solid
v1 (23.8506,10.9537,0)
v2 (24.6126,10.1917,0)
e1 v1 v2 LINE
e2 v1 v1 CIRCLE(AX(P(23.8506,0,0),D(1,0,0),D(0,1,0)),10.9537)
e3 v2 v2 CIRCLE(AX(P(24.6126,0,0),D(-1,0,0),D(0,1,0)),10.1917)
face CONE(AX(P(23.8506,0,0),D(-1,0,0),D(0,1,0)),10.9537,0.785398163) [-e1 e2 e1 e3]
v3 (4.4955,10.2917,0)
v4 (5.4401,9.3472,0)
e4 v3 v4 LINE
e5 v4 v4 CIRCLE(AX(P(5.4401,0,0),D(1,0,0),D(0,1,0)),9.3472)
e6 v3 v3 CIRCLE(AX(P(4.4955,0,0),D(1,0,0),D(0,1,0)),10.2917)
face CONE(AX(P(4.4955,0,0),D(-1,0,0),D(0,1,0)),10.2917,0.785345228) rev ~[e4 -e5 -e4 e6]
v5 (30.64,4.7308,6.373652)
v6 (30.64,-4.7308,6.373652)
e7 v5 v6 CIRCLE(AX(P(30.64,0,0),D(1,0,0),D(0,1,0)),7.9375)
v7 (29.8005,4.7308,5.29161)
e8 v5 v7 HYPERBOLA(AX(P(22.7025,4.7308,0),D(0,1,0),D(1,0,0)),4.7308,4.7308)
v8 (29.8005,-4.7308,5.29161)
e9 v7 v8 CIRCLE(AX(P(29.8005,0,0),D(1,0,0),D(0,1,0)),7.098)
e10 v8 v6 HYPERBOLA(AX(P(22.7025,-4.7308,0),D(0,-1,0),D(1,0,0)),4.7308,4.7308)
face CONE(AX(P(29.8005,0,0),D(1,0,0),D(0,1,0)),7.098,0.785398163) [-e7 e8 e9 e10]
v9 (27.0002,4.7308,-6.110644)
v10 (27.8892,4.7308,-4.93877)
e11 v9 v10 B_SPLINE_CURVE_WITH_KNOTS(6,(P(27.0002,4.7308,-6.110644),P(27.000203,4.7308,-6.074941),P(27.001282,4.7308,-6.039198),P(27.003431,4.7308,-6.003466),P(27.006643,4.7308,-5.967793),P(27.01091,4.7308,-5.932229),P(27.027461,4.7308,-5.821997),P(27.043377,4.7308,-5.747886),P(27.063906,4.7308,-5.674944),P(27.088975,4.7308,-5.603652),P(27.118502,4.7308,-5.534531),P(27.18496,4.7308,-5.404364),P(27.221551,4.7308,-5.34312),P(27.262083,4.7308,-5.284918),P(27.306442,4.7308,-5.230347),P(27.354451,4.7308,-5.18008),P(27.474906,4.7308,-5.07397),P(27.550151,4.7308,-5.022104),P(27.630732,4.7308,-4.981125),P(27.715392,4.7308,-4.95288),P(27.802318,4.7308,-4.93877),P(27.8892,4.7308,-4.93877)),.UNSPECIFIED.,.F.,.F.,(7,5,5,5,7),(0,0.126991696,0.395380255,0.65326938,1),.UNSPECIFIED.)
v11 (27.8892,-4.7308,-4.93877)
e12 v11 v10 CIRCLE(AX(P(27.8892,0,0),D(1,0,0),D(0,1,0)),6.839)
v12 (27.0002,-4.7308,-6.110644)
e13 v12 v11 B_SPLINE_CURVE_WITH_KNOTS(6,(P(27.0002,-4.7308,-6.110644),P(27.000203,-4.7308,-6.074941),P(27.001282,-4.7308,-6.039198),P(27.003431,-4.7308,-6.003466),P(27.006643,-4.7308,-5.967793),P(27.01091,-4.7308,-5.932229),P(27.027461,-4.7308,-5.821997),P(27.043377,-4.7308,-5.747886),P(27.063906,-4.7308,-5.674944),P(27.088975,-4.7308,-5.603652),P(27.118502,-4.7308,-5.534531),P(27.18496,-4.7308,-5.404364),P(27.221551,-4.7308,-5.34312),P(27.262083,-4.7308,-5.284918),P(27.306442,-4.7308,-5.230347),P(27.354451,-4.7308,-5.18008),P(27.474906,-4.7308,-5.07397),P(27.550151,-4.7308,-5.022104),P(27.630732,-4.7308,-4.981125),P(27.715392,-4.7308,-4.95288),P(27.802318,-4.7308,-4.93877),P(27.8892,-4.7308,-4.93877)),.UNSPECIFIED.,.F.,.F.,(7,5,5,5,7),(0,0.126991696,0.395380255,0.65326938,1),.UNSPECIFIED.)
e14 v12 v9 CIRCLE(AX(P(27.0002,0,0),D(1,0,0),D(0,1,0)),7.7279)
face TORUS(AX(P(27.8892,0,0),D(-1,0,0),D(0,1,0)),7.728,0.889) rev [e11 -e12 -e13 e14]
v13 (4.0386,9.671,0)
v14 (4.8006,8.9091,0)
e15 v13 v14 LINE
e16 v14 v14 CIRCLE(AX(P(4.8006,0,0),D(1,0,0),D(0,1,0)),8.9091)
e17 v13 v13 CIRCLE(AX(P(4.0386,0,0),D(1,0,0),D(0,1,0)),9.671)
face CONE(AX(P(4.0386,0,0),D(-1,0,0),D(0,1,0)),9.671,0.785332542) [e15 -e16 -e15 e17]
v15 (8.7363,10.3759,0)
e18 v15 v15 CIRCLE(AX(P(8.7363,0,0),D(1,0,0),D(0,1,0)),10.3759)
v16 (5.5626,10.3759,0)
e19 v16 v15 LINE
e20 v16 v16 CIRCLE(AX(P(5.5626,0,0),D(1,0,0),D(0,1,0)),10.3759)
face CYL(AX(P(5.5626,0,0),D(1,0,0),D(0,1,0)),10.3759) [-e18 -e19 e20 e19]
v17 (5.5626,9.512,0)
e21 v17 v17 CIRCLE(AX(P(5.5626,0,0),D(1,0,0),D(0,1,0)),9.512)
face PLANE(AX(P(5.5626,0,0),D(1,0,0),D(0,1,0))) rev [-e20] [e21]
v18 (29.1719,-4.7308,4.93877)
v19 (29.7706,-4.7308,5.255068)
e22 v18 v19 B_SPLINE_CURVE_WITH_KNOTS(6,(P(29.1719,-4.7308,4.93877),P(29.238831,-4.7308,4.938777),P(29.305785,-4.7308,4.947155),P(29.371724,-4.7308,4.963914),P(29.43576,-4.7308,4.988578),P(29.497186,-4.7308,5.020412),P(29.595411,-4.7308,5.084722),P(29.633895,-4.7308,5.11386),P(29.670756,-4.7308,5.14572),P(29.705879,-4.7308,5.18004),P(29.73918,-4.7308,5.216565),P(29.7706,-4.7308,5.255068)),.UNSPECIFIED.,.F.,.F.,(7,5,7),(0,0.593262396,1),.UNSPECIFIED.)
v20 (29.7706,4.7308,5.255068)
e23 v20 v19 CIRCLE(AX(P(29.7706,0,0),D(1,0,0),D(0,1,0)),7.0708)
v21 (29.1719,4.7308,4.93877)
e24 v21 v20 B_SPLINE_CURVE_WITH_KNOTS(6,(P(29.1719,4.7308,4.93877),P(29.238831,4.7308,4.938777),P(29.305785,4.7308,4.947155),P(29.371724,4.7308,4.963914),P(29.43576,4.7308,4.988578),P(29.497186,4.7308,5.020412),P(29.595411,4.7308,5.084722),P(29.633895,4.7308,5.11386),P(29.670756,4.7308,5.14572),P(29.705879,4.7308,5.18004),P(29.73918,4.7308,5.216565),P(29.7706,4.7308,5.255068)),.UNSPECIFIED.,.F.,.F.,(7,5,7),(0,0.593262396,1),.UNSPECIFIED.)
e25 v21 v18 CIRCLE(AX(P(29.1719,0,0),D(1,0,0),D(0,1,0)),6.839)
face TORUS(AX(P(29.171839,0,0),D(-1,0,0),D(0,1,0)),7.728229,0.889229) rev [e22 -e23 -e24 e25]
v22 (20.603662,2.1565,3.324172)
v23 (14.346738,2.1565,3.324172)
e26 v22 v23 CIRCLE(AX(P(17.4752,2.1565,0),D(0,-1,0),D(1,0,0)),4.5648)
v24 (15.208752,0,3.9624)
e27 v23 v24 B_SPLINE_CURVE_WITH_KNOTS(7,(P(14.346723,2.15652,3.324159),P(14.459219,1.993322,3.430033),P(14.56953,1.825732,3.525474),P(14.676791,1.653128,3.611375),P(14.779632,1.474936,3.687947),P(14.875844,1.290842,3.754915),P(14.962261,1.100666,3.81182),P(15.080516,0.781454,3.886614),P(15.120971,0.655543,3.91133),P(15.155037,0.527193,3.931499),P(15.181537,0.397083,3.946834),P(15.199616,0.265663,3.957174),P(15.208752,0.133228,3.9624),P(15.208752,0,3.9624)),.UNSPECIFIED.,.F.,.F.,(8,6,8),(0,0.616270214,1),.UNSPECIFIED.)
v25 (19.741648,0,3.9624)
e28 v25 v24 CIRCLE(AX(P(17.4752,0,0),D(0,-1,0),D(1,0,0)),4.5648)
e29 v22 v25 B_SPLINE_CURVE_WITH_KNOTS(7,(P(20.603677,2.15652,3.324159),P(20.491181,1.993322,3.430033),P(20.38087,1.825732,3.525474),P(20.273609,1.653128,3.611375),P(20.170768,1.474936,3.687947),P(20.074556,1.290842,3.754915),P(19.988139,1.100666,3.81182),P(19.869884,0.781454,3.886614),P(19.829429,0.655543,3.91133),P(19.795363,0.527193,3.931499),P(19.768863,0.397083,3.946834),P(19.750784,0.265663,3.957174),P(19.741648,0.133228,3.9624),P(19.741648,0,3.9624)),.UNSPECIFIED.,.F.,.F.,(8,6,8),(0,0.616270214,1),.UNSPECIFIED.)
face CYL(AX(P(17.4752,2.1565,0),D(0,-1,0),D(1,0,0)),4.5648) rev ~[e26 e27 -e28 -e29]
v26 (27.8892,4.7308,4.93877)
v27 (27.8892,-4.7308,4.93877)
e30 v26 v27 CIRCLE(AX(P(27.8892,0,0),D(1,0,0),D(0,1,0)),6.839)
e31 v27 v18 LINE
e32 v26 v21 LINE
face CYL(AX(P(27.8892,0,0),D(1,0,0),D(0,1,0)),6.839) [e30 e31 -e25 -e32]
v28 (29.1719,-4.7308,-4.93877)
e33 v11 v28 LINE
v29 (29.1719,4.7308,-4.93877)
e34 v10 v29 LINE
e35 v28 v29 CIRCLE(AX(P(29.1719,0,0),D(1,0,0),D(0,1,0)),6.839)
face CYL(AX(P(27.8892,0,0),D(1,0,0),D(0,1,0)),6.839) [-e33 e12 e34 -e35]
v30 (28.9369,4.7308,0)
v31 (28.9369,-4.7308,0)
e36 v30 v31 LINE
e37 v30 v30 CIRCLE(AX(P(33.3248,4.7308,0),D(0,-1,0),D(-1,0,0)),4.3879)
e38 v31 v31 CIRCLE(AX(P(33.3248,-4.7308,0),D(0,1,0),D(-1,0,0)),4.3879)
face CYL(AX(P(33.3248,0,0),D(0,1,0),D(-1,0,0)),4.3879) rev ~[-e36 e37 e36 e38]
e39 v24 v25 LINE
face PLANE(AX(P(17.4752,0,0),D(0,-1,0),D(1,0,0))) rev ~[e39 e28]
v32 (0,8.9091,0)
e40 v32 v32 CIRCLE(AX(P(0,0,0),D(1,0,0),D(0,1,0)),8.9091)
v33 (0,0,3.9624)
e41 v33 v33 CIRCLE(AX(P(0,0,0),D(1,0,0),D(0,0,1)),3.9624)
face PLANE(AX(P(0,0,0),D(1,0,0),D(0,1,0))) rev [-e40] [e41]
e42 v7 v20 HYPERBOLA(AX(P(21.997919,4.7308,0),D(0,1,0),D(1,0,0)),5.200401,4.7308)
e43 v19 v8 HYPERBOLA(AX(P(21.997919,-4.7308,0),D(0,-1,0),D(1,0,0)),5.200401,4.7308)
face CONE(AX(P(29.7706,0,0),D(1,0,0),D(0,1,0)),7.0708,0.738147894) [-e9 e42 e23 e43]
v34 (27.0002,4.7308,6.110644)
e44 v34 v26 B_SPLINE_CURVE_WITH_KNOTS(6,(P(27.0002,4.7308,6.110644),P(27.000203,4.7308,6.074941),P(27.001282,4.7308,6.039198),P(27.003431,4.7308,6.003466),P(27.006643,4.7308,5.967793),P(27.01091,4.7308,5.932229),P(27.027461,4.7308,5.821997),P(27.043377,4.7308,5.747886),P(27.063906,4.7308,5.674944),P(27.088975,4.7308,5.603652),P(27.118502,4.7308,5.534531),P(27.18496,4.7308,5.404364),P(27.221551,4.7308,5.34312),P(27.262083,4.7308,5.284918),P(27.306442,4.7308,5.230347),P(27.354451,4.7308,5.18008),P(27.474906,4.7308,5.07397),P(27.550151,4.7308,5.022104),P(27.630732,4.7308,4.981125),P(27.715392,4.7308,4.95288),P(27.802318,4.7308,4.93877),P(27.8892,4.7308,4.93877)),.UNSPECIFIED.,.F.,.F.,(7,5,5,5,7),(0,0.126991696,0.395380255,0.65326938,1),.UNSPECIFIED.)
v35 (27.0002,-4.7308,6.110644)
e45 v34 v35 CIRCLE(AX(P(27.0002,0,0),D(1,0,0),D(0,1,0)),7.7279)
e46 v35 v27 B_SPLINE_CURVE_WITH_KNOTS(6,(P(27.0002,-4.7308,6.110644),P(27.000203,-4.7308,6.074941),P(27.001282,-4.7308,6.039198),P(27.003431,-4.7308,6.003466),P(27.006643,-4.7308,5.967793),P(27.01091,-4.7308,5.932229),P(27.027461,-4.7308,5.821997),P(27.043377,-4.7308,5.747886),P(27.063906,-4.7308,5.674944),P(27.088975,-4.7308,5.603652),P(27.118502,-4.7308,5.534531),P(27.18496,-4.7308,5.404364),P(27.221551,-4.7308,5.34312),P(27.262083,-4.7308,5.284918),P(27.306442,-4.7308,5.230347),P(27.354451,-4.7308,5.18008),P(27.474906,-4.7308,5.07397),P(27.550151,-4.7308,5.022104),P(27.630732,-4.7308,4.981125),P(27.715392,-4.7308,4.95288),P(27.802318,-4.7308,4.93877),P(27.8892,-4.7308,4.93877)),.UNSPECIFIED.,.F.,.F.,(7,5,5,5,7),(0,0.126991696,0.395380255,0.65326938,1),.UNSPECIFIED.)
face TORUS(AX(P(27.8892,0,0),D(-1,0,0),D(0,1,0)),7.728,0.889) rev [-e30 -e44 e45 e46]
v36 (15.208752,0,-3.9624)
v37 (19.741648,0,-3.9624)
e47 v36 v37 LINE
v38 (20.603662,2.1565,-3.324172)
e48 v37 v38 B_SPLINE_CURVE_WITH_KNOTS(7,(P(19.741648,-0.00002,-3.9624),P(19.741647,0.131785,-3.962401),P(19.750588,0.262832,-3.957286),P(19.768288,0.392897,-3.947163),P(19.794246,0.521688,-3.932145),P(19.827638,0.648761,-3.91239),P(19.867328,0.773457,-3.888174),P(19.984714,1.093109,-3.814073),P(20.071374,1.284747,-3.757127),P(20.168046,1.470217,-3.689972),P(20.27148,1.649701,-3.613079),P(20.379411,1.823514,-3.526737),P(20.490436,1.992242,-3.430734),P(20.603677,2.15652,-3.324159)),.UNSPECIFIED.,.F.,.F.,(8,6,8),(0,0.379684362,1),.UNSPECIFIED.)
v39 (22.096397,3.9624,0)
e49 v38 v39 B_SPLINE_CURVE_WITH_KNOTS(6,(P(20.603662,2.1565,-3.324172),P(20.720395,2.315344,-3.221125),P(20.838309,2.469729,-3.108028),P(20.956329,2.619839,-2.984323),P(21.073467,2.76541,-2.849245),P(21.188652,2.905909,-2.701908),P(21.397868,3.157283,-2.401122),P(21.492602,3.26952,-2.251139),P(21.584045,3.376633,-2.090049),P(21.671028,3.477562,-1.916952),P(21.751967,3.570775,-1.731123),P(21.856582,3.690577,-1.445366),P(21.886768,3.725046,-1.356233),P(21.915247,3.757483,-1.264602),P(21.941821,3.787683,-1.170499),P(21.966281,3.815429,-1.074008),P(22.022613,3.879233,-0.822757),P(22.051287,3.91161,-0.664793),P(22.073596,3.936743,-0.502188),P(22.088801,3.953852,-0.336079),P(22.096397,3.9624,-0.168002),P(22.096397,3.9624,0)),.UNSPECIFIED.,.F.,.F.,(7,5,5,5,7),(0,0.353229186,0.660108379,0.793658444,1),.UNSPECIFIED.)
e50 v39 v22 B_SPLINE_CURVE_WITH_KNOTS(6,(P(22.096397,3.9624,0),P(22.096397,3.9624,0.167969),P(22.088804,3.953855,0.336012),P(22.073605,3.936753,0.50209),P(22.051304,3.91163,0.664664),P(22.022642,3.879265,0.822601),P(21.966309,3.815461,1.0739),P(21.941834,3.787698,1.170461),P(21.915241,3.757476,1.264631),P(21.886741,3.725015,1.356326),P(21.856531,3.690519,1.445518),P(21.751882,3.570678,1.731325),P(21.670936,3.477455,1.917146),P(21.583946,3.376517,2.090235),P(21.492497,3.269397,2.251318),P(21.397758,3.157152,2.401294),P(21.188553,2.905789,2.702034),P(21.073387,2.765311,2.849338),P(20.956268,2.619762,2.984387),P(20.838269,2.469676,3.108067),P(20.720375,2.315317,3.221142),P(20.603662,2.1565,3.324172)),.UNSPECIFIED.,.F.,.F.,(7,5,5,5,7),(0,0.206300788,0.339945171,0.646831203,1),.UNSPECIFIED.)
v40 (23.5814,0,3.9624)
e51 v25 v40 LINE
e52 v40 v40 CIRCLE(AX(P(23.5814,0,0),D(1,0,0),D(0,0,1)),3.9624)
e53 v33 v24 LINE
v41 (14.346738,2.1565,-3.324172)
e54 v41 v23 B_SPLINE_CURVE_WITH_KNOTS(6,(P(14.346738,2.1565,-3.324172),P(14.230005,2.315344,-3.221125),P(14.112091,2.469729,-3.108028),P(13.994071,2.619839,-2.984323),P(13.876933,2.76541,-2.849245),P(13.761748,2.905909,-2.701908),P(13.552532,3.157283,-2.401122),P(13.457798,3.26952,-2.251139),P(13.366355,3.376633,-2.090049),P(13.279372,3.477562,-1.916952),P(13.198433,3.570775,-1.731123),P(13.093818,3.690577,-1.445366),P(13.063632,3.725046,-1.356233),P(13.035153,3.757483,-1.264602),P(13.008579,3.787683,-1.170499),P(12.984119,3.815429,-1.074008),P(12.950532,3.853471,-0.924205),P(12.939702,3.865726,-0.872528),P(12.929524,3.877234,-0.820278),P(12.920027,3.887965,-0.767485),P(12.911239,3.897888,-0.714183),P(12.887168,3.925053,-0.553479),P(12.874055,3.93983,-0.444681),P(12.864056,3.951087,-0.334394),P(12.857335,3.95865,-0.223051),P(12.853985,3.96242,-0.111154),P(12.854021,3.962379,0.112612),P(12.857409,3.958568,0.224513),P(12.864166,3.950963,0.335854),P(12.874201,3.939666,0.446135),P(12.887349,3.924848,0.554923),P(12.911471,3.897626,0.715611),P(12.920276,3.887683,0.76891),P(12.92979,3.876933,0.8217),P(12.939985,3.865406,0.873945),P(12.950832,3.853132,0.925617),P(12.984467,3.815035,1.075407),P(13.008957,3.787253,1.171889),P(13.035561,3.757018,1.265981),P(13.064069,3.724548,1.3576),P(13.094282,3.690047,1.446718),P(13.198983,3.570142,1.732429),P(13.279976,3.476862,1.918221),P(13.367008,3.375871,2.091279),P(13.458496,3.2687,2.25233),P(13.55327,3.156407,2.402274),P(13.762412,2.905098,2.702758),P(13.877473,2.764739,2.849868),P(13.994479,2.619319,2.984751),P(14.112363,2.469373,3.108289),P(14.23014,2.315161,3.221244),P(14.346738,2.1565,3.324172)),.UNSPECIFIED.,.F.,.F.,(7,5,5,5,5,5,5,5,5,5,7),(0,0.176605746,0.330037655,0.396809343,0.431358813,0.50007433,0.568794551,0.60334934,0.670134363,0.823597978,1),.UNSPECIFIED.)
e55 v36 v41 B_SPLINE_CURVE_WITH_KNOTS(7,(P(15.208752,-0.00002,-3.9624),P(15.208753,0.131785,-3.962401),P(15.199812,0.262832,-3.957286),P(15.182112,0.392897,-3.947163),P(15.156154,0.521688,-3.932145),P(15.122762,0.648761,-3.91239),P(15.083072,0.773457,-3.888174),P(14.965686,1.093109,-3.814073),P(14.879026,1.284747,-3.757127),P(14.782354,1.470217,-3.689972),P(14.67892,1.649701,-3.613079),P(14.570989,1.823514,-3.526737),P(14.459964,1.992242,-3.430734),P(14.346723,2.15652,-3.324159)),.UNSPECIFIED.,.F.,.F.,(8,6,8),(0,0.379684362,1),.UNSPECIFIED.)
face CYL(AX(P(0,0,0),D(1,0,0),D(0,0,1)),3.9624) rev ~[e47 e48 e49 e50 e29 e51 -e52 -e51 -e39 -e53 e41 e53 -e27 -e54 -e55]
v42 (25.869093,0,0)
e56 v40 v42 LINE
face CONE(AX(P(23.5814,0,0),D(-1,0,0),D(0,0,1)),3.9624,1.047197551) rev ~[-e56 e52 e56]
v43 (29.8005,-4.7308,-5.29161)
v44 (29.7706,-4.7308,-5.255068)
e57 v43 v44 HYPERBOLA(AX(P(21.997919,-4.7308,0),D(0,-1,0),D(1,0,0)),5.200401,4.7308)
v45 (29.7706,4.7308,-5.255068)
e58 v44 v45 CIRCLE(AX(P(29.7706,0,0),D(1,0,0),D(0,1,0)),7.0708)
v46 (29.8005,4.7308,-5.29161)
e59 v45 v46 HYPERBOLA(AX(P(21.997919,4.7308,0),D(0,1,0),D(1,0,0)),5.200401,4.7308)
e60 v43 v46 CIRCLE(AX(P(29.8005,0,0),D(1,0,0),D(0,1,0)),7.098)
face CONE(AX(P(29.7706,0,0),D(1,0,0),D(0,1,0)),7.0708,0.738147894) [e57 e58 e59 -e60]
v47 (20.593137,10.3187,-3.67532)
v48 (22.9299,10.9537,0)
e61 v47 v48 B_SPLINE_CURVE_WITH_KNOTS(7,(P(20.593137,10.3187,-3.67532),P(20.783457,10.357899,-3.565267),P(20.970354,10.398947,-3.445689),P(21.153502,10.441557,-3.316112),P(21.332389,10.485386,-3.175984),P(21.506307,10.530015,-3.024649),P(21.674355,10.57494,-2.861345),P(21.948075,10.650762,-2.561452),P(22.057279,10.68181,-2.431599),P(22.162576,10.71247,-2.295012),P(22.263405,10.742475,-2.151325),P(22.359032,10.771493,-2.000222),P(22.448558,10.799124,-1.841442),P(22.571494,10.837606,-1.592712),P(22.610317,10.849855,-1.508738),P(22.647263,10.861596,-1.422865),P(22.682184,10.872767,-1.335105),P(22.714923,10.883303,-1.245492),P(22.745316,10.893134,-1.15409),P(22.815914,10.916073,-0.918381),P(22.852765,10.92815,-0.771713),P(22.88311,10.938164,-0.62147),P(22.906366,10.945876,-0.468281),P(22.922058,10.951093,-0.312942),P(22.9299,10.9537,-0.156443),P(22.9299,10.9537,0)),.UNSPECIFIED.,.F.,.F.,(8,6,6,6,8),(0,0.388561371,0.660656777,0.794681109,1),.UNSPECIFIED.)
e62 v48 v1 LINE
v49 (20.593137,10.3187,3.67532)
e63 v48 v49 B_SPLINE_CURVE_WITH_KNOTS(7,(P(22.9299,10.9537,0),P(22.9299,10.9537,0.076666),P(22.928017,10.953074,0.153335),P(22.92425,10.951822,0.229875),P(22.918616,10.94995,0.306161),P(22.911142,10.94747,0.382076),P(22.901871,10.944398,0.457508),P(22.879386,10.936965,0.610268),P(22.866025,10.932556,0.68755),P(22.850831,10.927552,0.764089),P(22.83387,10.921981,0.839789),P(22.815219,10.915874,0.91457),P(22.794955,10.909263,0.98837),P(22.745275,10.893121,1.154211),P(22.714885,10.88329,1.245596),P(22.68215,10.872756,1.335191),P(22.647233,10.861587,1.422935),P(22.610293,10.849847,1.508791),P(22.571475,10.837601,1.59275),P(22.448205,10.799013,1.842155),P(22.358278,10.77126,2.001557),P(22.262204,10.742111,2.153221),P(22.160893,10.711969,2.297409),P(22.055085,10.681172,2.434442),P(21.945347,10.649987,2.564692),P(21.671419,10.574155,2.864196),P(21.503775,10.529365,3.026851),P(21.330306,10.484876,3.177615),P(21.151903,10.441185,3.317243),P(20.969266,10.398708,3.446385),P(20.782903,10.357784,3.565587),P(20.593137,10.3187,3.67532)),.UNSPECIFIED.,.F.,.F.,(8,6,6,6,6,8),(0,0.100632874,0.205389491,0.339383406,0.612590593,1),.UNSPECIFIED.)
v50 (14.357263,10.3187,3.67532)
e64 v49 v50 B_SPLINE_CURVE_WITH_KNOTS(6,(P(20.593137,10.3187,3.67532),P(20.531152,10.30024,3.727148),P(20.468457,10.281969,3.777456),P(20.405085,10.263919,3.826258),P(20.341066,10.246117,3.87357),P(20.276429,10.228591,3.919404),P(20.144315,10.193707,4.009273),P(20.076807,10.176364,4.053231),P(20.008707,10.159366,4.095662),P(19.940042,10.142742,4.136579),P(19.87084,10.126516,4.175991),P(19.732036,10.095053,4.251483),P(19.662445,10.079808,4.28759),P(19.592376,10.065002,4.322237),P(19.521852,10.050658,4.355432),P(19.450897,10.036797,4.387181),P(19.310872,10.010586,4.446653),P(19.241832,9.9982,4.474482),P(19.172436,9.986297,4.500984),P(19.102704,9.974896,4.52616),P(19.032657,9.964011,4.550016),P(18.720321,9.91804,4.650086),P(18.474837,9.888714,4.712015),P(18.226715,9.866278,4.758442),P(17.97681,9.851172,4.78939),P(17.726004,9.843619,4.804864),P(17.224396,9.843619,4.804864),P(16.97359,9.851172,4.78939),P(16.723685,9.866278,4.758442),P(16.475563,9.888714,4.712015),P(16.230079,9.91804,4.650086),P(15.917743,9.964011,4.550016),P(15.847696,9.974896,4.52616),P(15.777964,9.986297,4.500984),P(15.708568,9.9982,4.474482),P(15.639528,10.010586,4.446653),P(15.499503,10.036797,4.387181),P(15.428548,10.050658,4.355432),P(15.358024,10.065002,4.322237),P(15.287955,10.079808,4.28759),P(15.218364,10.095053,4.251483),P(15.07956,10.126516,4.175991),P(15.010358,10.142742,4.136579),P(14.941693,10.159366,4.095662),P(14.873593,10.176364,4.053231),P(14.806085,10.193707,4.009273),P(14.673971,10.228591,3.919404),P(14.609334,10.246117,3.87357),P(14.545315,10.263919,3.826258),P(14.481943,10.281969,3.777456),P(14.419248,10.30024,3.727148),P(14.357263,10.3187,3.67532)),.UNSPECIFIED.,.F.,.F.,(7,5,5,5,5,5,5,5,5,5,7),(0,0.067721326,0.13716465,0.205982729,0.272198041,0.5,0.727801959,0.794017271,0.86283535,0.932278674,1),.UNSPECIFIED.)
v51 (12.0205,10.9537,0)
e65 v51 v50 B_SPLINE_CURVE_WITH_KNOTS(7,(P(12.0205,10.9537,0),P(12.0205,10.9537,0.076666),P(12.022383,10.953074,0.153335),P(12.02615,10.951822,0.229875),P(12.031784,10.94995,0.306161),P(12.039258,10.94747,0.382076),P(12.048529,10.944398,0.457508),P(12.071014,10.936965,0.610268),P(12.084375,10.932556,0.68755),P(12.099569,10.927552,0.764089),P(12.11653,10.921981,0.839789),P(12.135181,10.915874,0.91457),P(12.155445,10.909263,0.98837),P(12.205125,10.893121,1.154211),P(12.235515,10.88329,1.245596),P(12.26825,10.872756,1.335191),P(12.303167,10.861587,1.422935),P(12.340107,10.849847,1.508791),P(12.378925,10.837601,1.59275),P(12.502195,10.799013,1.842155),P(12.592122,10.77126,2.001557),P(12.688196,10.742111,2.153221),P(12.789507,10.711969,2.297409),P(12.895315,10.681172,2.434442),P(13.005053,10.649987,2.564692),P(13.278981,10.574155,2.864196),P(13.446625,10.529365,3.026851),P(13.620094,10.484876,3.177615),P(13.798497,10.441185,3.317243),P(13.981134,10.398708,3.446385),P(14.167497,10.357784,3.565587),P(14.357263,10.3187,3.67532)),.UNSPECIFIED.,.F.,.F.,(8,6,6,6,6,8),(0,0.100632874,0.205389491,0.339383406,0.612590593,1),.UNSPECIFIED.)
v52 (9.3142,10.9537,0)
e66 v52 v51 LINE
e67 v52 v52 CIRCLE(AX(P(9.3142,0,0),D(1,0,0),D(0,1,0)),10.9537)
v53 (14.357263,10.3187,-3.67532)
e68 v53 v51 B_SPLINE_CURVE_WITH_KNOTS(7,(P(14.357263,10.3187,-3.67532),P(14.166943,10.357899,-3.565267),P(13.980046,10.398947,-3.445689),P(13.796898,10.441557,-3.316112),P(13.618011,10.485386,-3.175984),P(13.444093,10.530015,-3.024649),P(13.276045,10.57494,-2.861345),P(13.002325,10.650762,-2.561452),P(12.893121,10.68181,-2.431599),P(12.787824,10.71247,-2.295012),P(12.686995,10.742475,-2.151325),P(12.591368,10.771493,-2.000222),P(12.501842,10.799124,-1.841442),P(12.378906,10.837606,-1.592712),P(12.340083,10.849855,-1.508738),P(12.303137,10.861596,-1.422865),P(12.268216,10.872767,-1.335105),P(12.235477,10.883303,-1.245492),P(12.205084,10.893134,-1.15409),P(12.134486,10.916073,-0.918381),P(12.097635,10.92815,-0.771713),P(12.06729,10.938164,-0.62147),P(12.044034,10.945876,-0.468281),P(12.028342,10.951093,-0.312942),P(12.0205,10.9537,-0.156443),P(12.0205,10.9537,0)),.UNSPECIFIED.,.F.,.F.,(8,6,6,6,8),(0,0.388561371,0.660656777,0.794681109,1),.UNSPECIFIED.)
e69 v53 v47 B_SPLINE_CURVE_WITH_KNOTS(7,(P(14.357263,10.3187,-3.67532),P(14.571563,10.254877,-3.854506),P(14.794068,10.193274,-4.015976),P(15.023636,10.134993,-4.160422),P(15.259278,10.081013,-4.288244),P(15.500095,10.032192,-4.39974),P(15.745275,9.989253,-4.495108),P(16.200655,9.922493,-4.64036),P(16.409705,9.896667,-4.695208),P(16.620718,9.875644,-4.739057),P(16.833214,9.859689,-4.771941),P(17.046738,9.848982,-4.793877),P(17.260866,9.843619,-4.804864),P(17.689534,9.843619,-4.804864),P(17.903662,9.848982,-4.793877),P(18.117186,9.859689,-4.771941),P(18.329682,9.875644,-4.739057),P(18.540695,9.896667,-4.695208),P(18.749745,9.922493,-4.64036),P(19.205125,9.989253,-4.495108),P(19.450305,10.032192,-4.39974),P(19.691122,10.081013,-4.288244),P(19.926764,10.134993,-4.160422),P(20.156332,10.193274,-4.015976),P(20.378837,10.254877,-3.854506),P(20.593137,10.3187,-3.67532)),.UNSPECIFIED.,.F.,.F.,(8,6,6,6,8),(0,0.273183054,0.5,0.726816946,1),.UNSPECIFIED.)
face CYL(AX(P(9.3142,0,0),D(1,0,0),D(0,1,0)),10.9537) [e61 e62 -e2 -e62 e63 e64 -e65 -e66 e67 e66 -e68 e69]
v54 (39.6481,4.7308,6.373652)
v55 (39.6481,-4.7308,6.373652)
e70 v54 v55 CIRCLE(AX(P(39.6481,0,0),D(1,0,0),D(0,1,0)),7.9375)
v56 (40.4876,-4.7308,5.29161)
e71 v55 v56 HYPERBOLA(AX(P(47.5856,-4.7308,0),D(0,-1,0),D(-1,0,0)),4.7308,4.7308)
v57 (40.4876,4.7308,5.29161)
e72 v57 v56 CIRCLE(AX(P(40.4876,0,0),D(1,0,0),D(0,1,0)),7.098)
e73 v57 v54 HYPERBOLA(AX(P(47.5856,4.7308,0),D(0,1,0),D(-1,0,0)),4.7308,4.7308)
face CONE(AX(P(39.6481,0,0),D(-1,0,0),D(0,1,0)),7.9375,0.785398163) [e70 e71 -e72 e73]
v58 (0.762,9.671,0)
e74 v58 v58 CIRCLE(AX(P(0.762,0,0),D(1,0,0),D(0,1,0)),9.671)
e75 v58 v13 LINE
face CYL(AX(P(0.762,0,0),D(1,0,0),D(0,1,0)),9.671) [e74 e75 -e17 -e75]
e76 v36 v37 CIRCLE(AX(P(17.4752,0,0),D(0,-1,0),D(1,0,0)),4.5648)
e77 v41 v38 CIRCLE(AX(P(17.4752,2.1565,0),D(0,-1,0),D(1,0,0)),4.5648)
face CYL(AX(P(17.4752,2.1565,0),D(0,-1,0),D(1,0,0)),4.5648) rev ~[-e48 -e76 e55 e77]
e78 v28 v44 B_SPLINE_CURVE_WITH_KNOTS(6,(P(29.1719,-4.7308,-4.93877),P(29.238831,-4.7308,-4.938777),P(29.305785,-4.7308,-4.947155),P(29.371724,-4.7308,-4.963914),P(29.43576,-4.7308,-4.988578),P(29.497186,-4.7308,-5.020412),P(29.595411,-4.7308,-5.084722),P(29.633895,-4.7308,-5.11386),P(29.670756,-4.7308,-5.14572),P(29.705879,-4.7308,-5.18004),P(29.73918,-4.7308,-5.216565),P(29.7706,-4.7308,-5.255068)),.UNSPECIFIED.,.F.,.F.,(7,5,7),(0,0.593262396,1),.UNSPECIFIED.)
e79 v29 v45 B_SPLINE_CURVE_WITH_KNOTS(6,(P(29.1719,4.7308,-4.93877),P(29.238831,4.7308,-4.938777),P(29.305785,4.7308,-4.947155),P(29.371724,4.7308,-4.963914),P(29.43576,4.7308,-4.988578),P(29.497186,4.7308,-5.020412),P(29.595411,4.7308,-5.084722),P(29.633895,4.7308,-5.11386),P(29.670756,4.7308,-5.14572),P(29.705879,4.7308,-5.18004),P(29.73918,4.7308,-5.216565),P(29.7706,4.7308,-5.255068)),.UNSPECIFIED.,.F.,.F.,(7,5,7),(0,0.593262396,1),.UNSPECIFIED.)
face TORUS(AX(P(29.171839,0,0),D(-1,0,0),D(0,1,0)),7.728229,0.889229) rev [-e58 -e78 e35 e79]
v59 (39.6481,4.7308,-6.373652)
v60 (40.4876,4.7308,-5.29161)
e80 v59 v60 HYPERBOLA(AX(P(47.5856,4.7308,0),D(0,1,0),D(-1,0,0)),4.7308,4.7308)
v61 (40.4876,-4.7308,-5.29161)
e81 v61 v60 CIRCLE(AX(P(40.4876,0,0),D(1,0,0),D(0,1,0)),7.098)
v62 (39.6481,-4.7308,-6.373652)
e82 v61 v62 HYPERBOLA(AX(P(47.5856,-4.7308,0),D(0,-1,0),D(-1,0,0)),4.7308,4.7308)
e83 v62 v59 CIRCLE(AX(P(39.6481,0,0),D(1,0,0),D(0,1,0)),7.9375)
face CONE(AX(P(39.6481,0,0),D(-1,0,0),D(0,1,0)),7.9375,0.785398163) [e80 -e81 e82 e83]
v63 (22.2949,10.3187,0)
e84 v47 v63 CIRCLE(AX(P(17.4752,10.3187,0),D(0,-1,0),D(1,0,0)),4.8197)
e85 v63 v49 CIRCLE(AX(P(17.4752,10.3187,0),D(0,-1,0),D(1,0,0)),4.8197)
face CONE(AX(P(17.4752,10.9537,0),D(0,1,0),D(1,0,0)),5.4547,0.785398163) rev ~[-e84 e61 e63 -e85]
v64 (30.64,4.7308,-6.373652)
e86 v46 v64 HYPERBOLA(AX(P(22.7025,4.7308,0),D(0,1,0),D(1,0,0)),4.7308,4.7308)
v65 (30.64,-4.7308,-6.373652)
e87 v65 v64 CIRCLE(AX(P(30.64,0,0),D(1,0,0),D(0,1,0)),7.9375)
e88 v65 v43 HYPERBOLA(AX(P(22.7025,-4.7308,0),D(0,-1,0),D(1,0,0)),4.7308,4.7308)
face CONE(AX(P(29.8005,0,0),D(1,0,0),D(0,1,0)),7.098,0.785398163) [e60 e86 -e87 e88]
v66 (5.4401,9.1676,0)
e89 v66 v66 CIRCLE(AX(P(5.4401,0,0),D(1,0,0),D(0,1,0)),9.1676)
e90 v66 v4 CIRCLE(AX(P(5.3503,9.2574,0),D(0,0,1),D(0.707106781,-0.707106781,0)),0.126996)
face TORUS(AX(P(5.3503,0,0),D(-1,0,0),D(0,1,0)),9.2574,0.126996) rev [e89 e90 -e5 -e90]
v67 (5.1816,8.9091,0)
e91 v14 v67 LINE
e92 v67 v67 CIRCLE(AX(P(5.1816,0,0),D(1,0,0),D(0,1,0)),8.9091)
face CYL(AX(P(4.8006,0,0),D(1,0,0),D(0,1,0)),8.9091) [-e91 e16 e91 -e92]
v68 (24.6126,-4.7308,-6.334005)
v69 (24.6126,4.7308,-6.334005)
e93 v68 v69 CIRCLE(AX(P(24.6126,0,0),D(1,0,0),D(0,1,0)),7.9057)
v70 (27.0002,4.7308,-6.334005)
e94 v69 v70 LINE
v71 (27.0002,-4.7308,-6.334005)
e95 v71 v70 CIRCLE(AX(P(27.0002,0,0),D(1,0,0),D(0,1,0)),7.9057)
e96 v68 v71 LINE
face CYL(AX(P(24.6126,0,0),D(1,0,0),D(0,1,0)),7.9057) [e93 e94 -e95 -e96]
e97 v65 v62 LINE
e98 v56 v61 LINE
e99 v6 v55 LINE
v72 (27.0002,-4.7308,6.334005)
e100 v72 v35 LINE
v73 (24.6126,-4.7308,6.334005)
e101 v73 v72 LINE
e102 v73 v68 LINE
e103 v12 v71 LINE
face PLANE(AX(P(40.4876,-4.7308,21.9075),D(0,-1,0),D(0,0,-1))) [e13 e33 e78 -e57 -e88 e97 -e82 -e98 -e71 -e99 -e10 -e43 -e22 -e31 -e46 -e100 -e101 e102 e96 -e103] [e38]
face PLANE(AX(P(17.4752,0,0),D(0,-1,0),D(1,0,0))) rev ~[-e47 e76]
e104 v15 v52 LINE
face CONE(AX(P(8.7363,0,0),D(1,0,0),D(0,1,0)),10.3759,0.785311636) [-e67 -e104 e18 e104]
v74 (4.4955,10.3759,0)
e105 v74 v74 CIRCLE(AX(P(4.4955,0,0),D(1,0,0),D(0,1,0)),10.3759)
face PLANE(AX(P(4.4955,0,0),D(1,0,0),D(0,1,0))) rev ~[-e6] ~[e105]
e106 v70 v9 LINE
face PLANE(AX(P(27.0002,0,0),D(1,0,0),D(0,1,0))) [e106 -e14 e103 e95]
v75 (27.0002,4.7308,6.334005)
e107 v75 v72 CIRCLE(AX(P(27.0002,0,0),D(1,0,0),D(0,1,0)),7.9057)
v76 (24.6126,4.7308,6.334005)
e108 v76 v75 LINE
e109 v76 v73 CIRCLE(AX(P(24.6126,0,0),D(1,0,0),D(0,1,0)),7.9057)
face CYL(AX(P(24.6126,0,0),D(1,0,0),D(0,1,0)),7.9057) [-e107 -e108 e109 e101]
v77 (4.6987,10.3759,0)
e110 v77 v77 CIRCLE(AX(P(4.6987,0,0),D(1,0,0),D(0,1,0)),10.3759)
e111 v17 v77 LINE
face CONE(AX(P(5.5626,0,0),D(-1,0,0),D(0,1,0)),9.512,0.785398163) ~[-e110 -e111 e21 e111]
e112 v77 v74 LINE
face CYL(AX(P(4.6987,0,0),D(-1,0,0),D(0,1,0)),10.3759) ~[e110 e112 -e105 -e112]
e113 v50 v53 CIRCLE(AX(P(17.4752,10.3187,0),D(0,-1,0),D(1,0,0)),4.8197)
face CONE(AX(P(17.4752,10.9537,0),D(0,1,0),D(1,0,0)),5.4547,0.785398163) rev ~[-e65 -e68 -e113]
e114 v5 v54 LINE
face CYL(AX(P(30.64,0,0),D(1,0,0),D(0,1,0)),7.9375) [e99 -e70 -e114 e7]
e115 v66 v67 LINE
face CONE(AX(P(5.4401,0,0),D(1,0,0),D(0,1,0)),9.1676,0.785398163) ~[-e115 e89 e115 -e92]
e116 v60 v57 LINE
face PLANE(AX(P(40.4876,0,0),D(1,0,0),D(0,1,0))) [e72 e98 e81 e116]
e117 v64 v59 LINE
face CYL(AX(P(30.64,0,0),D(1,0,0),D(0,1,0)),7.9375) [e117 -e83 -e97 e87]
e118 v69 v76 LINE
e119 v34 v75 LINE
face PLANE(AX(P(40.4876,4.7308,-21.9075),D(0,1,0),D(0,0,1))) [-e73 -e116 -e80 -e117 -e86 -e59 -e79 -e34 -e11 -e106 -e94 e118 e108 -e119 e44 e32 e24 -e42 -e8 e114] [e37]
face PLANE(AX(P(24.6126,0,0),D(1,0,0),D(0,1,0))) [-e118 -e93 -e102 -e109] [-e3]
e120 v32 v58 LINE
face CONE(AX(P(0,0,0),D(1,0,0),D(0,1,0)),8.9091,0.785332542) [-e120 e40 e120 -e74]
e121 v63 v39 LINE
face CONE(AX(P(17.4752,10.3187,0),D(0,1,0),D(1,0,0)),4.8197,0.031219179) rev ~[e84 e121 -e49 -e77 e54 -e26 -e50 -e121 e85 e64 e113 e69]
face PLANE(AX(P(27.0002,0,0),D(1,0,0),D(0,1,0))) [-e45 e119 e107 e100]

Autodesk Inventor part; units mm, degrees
sketch "Sketch_8" plane through (0, 0, 0) normal (0, 0, 1) x (1, 0, 0)
  line L0 (24.6126, 0) -> (0, 0)
  line L1 (0, 0) -> (0, 8.9091)
  line L2 (0, 8.9091) -> (0.762, 9.671)
  line L3 (0.762, 9.671) -> (4.0386, 9.671)
  line L4 (4.0386, 9.671) -> (4.8006, 8.9091)
  line L5 (4.8006, 8.9091) -> (5.5626, 8.9091)
  line L6 (5.5626, 8.9091) -> (5.5626, 10.3759)
  line L7 (5.5626, 10.3759) -> (8.7363, 10.3759)
  line L8 (8.7363, 10.3759) -> (9.3142, 10.9537)
  line L9 (9.3142, 10.9537) -> (23.8506, 10.9537)
  line L10 (23.8506, 10.9537) -> (24.6126, 10.1917)
  line L11 (24.6126, 10.1917) -> (24.6126, 0)
  line L12 (24.6126, 0) -> (0, 0)
revolve "Revolution1" add sketch "Sketch_8" angle 360 about axis through (24.6126, 0, 0) along (1, 0, 0)
sketch "Sketch_15" plane through (0, 0, 0) normal (0, 0, 1) x (1, 0, 0)
  line L0 (40.4876, 0) -> (24.6126, 0)
  line L1 (24.6126, 0) -> (24.6126, 7.9057)
  line L2 (24.6126, 7.9057) -> (27.0002, 7.9057)
  line L3 (27.0002, 7.9057) -> (27.0002, 7.7279)
  arc A0 (27.0002, 7.7279) -> (27.8892, 6.839) centre (27.8892, 7.728) ccw
  line L4 (27.8892, 6.839) -> (29.1719, 6.839)
  arc A1 (29.1719, 6.839) -> (29.7706, 7.0708) centre (29.1719, 7.7279) ccw
  line L5 (29.7706, 7.0708) -> (29.8005, 7.098)
  line L6 (29.8005, 7.098) -> (30.64, 7.9375)
  line L7 (30.64, 7.9375) -> (39.6481, 7.9375)
  line L8 (39.6481, 7.9375) -> (40.4876, 7.098)
  line L9 (40.4876, 7.098) -> (40.4876, 0)
  line L10 (40.4876, 0) -> (24.6126, 0)
revolve "Revolution2" add sketch "Sketch_15" angle 360 about axis through (40.4876, 0, 0) along (1, 0, 0)
thread "Thread1" size "5/8-18 UNF" class "2A" standard "ANSI Unified Screw Threads" full length
sketch "Sketch_70" plane through (40.4876, 0, 0) normal (1, 0, 0) x (0, 0, -1)
  line L0 (-43.815, -21.9075) -> (43.815, -21.9075)
  line L1 (43.815, -21.9075) -> (43.815, 21.9075)
  line L2 (43.815, 21.9075) -> (-43.815, 21.9075)
  line L3 (-43.815, 21.9075) -> (-43.815, -21.9075)
  line L4 (-21.9075, -4.7308) -> (21.9075, -4.7308)
  line L5 (21.9075, -4.7308) -> (21.9075, 4.7308)
  line L6 (21.9075, 4.7308) -> (-21.9075, 4.7308)
  line L7 (-21.9075, 4.7308) -> (-21.9075, -4.7308)
extrude "Extrusion1" cut sketch "Sketch_70" against normal blind 15.875
sketch "Sketch4" plane through (0, 0, 0) normal (-1, 0, 0) x (0, 0, 1)
  point P0 (0, 0)
hole "Hole1" at (0, 0, 0) direction (1, 0, 0) diameter 7.9248 depth 23.5814 tip angle 120
sketch "Sketch_47" plane through (0, 0, 0) normal (0, 0, 1) x (1, 0, 0)
  line L0 (17.4752, 0) -> (17.4752, 10.9537)
  line L1 (17.4752, 10.9537) -> (22.9299, 10.9537)
  line L2 (22.9299, 10.9537) -> (22.2949, 10.3187)
  line L3 (22.2949, 10.3187) -> (22.04, 2.1565)
  line L4 (22.04, 2.1565) -> (22.04, 0)
  line L5 (22.04, 0) -> (17.4752, 0)
  line L6 (17.4752, 0) -> (17.4752, 10.9537)
revolve "Revolution3" cut sketch "Sketch_47" angle 360 about axis through (17.4752, 0, 0) along (0, -1, 0)
thread "Thread2" size "1/8" designation "1/8 - 27 NPT" standard "NPT" length 7.0392
sketch "Sketch_24" plane through (0, 0, 0) normal (0, 0, 1) x (1, 0, 0)
  line L0 (5.5626, 0) -> (4.8006, 0)
  line L1 (4.4955, 10.3759) -> (4.4955, 10.2917)
  line L2 (4.4955, 10.2917) -> (5.4401, 9.3472)
  arc A0 (5.4401, 9.1676) -> (5.4401, 9.3472) centre (5.3503, 9.2574) ccw
  line L3 (5.4401, 9.1676) -> (5.1816, 8.9091)
  line L4 (5.1816, 8.9091) -> (4.8006, 8.9091)
  line L5 (4.8006, 8.9091) -> (4.8006, 8.655)
  line L6 (4.8006, 8.655) -> (5.5626, 8.655)
  line L7 (5.5626, 8.655) -> (5.5626, 9.512)
  line L8 (5.5626, 9.512) -> (4.6987, 10.3759)
  line L9 (4.6987, 10.3759) -> (4.4955, 10.3759)
revolve "Revolution4" add sketch "Sketch_24" angle 360 about axis through (5.5626, 0, 0) along (1, 0, 0)
sketch "Sketch_43" plane through (0, 0, 0) normal (0, 1, 0) x (-1, 0, 0)
  circle A0 centre (-33.3248, 0) radius 4.3879
extrude "Extrusion2" cut sketch "Sketch_43" along normal mid plane 14.1922
ref_plane "1_XY" through (27.0002, 0, 0) normal (1, 0, 0) x (0, 0, -1)
ref_plane "1_YZ" through (27.0002, 0, 0) normal (0, 0, -1) x (0, 1, 0)
ref_plane "1_ZX" through (27.0002, 0, 0) normal (0, 1, 0) x (1, 0, 0)
ref_plane "c1_XY" through (24.6126, 7.9057, 0) normal (0, 0, 1) x (1, 0, 0)
ref_plane "c1_YZ" through (24.6126, 7.9057, 0) normal (1, 0, 0) x (0, 1, 0)
ref_plane "c1_ZX" through (24.6126, 7.9057, 0) normal (0, 1, 0) x (0, 0, 1)
ref_plane "c2_XY" through (24.6126, -7.9057, 0) normal (0, 0, 1) x (1, 0, 0)
ref_plane "c2_YZ" through (24.6126, -7.9057, 0) normal (1, 0, 0) x (0, 1, 0)
ref_plane "c2_ZX" through (24.6126, -7.9057, 0) normal (0, 1, 0) x (0, 0, 1)
ref_plane "cc1_XY" through (24.6126, 0, 0) normal (0, 0, 1) x (1, 0, 0)
ref_plane "cc1_YZ" through (24.6126, 0, 0) normal (1, 0, 0) x (0, 1, 0)
ref_plane "cc1_ZX" through (24.6126, 0, 0) normal (0, 1, 0) x (0, 0, 1)
ref_plane "cc2_XY" through (27.0002, 0, 0) normal (0, 0, 1) x (1, 0, 0)
ref_plane "cc2_YZ" through (27.0002, 0, 0) normal (1, 0, 0) x (0, 1, 0)
ref_plane "cc2_ZX" through (27.0002, 0, 0) normal (0, 1, 0) x (0, 0, 1)
ref_plane "lovra1_XY" through (35.7124, 0, 0) normal (1, 0, 0) x (0, 0, -1)
ref_plane "lovra1_YZ" through (35.7124, 0, 0) normal (0, 0, -1) x (0, 1, 0)
ref_plane "lovra1_ZX" through (35.7124, 0, 0) normal (0, 1, 0) x (1, 0, 0)
ref_plane "lovra2_XY" through (35.7124, 7.874, 0) normal (1, 0, 0) x (0, 0, -1)
ref_plane "lovra2_YZ" through (35.7124, 7.874, 0) normal (0, 0, -1) x (0, 1, 0)
ref_plane "lovra2_ZX" through (35.7124, 7.874, 0) normal (0, 1, 0) x (1, 0, 0)
ref_plane "lovra21_XY" through (0, 0, 5.2705) normal (1, 0, 0) x (0, 0, -1)
ref_plane "lovra21_YZ" through (0, 0, 5.2705) normal (0, 0, -1) x (0, 1, 0)
ref_plane "lovra21_ZX" through (0, 0, 5.2705) normal (0, 1, 0) x (1, 0, 0)
ref_plane "lovra22_XY" through (0, 0, -5.2705) normal (1, 0, 0) x (0, 0, -1)
ref_plane "lovra22_YZ" through (0, 0, -5.2705) normal (0, 0, -1) x (0, 1, 0)
ref_plane "lovra22_ZX" through (0, 0, -5.2705) normal (0, 1, 0) x (1, 0, 0)
ref_plane "lovra3_XY" through (35.7124, -7.874, 0) normal (1, 0, 0) x (0, 0, -1)
ref_plane "lovra3_YZ" through (35.7124, -7.874, 0) normal (0, 0, -1) x (0, 1, 0)
ref_plane "lovra3_ZX" through (35.7124, -7.874, 0) normal (0, 1, 0) x (1, 0, 0)
ref_plane "olen_XY" through (33.3248, 0, 0) normal (1, 0, 0) x (0, 0, -1)
ref_plane "olen_YZ" through (33.3248, 0, 0) normal (0, 0, -1) x (0, 1, 0)
ref_plane "olen_ZX" through (33.3248, 0, 0) normal (0, 1, 0) x (1, 0, 0)
ref_plane "p1_XY" through (40.4876, 0, 4.7308) normal (1, 0, 0) x (0, 0, -1)
ref_plane "p1_YZ" through (40.4876, 0, 4.7308) normal (0, 0, -1) x (0, 1, 0)
ref_plane "p1_ZX" through (40.4876, 0, 4.7308) normal (0, 1, 0) x (1, 0, 0)
ref_plane "p2_XY" through (40.4876, 0, -4.7308) normal (1, 0, 0) x (0, 0, -1)
ref_plane "p2_YZ" through (40.4876, 0, -4.7308) normal (0, 0, -1) x (0, 1, 0)
ref_plane "p2_ZX" through (40.4876, 0, -4.7308) normal (0, 1, 0) x (1, 0, 0)
ref_plane "port_XY" through (17.4752, 0, 0) normal (0, 0, 1) x (1, 0, 0)
ref_plane "port_YZ" through (17.4752, 0, 0) normal (1, 0, 0) x (0, 1, 0)
ref_plane "port_ZX" through (17.4752, 0, 0) normal (0, 1, 0) x (0, 0, 1)
ref_plane "port2_XY" through (40.4876, 0, 0) normal (1, 0, 0) x (0, 0, -1)
ref_plane "port2_YZ" through (40.4876, 0, 0) normal (0, 0, -1) x (0, 1, 0)
ref_plane "port2_ZX" through (40.4876, 0, 0) normal (0, 1, 0) x (1, 0, 0)
ref_plane "thd1_XY" through (40.4876, 0, 7.9375) normal (1, 0, 0) x (0, 0, -1)
ref_plane "thd1_YZ" through (40.4876, 0, 7.9375) normal (0, 0, -1) x (0, 1, 0)
ref_plane "thd1_ZX" through (40.4876, 0, 7.9375) normal (0, 1, 0) x (1, 0, 0)
ref_plane "thd2_XY" through (40.4876, 0, -7.9375) normal (1, 0, 0) x (0, 0, -1)
ref_plane "thd2_YZ" through (40.4876, 0, -7.9375) normal (0, 0, -1) x (0, 1, 0)
ref_plane "thd2_ZX" through (40.4876, 0, -7.9375) normal (0, 1, 0) x (1, 0, 0)
ref_plane "to_mounting_bracket_XY" through (24.6126, 0, 0) normal (1, 0, 0) x (0, 0, -1)
ref_plane "to_mounting_bracket_YZ" through (24.6126, 0, 0) normal (0, 0, -1) x (0, 1, 0)
ref_plane "to_mounting_bracket_ZX" through (24.6126, 0, 0) normal (0, 1, 0) x (1, 0, 0)
ref_plane "to_nut_XY" through (27.0002, 0, 0) normal (1, 0, 0) x (0, 0, -1)
ref_plane "to_nut_YZ" through (27.0002, 0, 0) normal (0, 0, -1) x (0, 1, 0)
ref_plane "to_nut_ZX" through (27.0002, 0, 0) normal (0, 1, 0) x (1, 0, 0)
ref_plane "to_pin_XY" through (33.3248, 0, 0) normal (0, 1, 0) x (1, 0, 0)
ref_plane "to_pin_YZ" through (33.3248, 0, 0) normal (1, 0, 0) x (0, 0, -1)
ref_plane "to_pin_ZX" through (33.3248, 0, 0) normal (0, 0, -1) x (0, 1, 0)
ref_plane "to_pin_1_XY" through (33.3248, 0, 0) normal (0, 0, 1) x (1, 0, 0)
ref_plane "to_pin_1_YZ" through (33.3248, 0, 0) normal (1, 0, 0) x (0, 1, 0)
ref_plane "to_pin_1_ZX" through (33.3248, 0, 0) normal (0, 1, 0) x (0, 0, 1)
ref_plane "to_pin_r_XY" through (33.3248, 0, 0) normal (0, 0, 1) x (1, 0, 0)
ref_plane "to_pin_r_YZ" through (33.3248, 0, 0) normal (1, 0, 0) x (0, 1, 0)
ref_plane "to_pin_r_ZX" through (33.3248, 0, 0) normal (0, 1, 0) x (0, 0, 1)
ref_plane "to_screw_XY" through (17.4752, 2.032, -6.0452) normal (0, 1, 0) x (1, 0, 0)
ref_plane "to_screw_YZ" through (17.4752, 2.032, -6.0452) normal (1, 0, 0) x (0, 0, -1)
ref_plane "to_screw_ZX" through (17.4752, 2.032, -6.0452) normal (0, 0, -1) x (0, 1, 0)
ref_plane "to_tube_XY" through (4.8006, 0, 0) normal (1, 0, 0) x (0, 0, -1)
ref_plane "to_tube_YZ" through (4.8006, 0, 0) normal (0, 0, -1) x (0, 1, 0)
ref_plane "to_tube_ZX" through (4.8006, 0, 0) normal (0, 1, 0) x (1, 0, 0)
properties part number "04P0Y000_rear_head"
